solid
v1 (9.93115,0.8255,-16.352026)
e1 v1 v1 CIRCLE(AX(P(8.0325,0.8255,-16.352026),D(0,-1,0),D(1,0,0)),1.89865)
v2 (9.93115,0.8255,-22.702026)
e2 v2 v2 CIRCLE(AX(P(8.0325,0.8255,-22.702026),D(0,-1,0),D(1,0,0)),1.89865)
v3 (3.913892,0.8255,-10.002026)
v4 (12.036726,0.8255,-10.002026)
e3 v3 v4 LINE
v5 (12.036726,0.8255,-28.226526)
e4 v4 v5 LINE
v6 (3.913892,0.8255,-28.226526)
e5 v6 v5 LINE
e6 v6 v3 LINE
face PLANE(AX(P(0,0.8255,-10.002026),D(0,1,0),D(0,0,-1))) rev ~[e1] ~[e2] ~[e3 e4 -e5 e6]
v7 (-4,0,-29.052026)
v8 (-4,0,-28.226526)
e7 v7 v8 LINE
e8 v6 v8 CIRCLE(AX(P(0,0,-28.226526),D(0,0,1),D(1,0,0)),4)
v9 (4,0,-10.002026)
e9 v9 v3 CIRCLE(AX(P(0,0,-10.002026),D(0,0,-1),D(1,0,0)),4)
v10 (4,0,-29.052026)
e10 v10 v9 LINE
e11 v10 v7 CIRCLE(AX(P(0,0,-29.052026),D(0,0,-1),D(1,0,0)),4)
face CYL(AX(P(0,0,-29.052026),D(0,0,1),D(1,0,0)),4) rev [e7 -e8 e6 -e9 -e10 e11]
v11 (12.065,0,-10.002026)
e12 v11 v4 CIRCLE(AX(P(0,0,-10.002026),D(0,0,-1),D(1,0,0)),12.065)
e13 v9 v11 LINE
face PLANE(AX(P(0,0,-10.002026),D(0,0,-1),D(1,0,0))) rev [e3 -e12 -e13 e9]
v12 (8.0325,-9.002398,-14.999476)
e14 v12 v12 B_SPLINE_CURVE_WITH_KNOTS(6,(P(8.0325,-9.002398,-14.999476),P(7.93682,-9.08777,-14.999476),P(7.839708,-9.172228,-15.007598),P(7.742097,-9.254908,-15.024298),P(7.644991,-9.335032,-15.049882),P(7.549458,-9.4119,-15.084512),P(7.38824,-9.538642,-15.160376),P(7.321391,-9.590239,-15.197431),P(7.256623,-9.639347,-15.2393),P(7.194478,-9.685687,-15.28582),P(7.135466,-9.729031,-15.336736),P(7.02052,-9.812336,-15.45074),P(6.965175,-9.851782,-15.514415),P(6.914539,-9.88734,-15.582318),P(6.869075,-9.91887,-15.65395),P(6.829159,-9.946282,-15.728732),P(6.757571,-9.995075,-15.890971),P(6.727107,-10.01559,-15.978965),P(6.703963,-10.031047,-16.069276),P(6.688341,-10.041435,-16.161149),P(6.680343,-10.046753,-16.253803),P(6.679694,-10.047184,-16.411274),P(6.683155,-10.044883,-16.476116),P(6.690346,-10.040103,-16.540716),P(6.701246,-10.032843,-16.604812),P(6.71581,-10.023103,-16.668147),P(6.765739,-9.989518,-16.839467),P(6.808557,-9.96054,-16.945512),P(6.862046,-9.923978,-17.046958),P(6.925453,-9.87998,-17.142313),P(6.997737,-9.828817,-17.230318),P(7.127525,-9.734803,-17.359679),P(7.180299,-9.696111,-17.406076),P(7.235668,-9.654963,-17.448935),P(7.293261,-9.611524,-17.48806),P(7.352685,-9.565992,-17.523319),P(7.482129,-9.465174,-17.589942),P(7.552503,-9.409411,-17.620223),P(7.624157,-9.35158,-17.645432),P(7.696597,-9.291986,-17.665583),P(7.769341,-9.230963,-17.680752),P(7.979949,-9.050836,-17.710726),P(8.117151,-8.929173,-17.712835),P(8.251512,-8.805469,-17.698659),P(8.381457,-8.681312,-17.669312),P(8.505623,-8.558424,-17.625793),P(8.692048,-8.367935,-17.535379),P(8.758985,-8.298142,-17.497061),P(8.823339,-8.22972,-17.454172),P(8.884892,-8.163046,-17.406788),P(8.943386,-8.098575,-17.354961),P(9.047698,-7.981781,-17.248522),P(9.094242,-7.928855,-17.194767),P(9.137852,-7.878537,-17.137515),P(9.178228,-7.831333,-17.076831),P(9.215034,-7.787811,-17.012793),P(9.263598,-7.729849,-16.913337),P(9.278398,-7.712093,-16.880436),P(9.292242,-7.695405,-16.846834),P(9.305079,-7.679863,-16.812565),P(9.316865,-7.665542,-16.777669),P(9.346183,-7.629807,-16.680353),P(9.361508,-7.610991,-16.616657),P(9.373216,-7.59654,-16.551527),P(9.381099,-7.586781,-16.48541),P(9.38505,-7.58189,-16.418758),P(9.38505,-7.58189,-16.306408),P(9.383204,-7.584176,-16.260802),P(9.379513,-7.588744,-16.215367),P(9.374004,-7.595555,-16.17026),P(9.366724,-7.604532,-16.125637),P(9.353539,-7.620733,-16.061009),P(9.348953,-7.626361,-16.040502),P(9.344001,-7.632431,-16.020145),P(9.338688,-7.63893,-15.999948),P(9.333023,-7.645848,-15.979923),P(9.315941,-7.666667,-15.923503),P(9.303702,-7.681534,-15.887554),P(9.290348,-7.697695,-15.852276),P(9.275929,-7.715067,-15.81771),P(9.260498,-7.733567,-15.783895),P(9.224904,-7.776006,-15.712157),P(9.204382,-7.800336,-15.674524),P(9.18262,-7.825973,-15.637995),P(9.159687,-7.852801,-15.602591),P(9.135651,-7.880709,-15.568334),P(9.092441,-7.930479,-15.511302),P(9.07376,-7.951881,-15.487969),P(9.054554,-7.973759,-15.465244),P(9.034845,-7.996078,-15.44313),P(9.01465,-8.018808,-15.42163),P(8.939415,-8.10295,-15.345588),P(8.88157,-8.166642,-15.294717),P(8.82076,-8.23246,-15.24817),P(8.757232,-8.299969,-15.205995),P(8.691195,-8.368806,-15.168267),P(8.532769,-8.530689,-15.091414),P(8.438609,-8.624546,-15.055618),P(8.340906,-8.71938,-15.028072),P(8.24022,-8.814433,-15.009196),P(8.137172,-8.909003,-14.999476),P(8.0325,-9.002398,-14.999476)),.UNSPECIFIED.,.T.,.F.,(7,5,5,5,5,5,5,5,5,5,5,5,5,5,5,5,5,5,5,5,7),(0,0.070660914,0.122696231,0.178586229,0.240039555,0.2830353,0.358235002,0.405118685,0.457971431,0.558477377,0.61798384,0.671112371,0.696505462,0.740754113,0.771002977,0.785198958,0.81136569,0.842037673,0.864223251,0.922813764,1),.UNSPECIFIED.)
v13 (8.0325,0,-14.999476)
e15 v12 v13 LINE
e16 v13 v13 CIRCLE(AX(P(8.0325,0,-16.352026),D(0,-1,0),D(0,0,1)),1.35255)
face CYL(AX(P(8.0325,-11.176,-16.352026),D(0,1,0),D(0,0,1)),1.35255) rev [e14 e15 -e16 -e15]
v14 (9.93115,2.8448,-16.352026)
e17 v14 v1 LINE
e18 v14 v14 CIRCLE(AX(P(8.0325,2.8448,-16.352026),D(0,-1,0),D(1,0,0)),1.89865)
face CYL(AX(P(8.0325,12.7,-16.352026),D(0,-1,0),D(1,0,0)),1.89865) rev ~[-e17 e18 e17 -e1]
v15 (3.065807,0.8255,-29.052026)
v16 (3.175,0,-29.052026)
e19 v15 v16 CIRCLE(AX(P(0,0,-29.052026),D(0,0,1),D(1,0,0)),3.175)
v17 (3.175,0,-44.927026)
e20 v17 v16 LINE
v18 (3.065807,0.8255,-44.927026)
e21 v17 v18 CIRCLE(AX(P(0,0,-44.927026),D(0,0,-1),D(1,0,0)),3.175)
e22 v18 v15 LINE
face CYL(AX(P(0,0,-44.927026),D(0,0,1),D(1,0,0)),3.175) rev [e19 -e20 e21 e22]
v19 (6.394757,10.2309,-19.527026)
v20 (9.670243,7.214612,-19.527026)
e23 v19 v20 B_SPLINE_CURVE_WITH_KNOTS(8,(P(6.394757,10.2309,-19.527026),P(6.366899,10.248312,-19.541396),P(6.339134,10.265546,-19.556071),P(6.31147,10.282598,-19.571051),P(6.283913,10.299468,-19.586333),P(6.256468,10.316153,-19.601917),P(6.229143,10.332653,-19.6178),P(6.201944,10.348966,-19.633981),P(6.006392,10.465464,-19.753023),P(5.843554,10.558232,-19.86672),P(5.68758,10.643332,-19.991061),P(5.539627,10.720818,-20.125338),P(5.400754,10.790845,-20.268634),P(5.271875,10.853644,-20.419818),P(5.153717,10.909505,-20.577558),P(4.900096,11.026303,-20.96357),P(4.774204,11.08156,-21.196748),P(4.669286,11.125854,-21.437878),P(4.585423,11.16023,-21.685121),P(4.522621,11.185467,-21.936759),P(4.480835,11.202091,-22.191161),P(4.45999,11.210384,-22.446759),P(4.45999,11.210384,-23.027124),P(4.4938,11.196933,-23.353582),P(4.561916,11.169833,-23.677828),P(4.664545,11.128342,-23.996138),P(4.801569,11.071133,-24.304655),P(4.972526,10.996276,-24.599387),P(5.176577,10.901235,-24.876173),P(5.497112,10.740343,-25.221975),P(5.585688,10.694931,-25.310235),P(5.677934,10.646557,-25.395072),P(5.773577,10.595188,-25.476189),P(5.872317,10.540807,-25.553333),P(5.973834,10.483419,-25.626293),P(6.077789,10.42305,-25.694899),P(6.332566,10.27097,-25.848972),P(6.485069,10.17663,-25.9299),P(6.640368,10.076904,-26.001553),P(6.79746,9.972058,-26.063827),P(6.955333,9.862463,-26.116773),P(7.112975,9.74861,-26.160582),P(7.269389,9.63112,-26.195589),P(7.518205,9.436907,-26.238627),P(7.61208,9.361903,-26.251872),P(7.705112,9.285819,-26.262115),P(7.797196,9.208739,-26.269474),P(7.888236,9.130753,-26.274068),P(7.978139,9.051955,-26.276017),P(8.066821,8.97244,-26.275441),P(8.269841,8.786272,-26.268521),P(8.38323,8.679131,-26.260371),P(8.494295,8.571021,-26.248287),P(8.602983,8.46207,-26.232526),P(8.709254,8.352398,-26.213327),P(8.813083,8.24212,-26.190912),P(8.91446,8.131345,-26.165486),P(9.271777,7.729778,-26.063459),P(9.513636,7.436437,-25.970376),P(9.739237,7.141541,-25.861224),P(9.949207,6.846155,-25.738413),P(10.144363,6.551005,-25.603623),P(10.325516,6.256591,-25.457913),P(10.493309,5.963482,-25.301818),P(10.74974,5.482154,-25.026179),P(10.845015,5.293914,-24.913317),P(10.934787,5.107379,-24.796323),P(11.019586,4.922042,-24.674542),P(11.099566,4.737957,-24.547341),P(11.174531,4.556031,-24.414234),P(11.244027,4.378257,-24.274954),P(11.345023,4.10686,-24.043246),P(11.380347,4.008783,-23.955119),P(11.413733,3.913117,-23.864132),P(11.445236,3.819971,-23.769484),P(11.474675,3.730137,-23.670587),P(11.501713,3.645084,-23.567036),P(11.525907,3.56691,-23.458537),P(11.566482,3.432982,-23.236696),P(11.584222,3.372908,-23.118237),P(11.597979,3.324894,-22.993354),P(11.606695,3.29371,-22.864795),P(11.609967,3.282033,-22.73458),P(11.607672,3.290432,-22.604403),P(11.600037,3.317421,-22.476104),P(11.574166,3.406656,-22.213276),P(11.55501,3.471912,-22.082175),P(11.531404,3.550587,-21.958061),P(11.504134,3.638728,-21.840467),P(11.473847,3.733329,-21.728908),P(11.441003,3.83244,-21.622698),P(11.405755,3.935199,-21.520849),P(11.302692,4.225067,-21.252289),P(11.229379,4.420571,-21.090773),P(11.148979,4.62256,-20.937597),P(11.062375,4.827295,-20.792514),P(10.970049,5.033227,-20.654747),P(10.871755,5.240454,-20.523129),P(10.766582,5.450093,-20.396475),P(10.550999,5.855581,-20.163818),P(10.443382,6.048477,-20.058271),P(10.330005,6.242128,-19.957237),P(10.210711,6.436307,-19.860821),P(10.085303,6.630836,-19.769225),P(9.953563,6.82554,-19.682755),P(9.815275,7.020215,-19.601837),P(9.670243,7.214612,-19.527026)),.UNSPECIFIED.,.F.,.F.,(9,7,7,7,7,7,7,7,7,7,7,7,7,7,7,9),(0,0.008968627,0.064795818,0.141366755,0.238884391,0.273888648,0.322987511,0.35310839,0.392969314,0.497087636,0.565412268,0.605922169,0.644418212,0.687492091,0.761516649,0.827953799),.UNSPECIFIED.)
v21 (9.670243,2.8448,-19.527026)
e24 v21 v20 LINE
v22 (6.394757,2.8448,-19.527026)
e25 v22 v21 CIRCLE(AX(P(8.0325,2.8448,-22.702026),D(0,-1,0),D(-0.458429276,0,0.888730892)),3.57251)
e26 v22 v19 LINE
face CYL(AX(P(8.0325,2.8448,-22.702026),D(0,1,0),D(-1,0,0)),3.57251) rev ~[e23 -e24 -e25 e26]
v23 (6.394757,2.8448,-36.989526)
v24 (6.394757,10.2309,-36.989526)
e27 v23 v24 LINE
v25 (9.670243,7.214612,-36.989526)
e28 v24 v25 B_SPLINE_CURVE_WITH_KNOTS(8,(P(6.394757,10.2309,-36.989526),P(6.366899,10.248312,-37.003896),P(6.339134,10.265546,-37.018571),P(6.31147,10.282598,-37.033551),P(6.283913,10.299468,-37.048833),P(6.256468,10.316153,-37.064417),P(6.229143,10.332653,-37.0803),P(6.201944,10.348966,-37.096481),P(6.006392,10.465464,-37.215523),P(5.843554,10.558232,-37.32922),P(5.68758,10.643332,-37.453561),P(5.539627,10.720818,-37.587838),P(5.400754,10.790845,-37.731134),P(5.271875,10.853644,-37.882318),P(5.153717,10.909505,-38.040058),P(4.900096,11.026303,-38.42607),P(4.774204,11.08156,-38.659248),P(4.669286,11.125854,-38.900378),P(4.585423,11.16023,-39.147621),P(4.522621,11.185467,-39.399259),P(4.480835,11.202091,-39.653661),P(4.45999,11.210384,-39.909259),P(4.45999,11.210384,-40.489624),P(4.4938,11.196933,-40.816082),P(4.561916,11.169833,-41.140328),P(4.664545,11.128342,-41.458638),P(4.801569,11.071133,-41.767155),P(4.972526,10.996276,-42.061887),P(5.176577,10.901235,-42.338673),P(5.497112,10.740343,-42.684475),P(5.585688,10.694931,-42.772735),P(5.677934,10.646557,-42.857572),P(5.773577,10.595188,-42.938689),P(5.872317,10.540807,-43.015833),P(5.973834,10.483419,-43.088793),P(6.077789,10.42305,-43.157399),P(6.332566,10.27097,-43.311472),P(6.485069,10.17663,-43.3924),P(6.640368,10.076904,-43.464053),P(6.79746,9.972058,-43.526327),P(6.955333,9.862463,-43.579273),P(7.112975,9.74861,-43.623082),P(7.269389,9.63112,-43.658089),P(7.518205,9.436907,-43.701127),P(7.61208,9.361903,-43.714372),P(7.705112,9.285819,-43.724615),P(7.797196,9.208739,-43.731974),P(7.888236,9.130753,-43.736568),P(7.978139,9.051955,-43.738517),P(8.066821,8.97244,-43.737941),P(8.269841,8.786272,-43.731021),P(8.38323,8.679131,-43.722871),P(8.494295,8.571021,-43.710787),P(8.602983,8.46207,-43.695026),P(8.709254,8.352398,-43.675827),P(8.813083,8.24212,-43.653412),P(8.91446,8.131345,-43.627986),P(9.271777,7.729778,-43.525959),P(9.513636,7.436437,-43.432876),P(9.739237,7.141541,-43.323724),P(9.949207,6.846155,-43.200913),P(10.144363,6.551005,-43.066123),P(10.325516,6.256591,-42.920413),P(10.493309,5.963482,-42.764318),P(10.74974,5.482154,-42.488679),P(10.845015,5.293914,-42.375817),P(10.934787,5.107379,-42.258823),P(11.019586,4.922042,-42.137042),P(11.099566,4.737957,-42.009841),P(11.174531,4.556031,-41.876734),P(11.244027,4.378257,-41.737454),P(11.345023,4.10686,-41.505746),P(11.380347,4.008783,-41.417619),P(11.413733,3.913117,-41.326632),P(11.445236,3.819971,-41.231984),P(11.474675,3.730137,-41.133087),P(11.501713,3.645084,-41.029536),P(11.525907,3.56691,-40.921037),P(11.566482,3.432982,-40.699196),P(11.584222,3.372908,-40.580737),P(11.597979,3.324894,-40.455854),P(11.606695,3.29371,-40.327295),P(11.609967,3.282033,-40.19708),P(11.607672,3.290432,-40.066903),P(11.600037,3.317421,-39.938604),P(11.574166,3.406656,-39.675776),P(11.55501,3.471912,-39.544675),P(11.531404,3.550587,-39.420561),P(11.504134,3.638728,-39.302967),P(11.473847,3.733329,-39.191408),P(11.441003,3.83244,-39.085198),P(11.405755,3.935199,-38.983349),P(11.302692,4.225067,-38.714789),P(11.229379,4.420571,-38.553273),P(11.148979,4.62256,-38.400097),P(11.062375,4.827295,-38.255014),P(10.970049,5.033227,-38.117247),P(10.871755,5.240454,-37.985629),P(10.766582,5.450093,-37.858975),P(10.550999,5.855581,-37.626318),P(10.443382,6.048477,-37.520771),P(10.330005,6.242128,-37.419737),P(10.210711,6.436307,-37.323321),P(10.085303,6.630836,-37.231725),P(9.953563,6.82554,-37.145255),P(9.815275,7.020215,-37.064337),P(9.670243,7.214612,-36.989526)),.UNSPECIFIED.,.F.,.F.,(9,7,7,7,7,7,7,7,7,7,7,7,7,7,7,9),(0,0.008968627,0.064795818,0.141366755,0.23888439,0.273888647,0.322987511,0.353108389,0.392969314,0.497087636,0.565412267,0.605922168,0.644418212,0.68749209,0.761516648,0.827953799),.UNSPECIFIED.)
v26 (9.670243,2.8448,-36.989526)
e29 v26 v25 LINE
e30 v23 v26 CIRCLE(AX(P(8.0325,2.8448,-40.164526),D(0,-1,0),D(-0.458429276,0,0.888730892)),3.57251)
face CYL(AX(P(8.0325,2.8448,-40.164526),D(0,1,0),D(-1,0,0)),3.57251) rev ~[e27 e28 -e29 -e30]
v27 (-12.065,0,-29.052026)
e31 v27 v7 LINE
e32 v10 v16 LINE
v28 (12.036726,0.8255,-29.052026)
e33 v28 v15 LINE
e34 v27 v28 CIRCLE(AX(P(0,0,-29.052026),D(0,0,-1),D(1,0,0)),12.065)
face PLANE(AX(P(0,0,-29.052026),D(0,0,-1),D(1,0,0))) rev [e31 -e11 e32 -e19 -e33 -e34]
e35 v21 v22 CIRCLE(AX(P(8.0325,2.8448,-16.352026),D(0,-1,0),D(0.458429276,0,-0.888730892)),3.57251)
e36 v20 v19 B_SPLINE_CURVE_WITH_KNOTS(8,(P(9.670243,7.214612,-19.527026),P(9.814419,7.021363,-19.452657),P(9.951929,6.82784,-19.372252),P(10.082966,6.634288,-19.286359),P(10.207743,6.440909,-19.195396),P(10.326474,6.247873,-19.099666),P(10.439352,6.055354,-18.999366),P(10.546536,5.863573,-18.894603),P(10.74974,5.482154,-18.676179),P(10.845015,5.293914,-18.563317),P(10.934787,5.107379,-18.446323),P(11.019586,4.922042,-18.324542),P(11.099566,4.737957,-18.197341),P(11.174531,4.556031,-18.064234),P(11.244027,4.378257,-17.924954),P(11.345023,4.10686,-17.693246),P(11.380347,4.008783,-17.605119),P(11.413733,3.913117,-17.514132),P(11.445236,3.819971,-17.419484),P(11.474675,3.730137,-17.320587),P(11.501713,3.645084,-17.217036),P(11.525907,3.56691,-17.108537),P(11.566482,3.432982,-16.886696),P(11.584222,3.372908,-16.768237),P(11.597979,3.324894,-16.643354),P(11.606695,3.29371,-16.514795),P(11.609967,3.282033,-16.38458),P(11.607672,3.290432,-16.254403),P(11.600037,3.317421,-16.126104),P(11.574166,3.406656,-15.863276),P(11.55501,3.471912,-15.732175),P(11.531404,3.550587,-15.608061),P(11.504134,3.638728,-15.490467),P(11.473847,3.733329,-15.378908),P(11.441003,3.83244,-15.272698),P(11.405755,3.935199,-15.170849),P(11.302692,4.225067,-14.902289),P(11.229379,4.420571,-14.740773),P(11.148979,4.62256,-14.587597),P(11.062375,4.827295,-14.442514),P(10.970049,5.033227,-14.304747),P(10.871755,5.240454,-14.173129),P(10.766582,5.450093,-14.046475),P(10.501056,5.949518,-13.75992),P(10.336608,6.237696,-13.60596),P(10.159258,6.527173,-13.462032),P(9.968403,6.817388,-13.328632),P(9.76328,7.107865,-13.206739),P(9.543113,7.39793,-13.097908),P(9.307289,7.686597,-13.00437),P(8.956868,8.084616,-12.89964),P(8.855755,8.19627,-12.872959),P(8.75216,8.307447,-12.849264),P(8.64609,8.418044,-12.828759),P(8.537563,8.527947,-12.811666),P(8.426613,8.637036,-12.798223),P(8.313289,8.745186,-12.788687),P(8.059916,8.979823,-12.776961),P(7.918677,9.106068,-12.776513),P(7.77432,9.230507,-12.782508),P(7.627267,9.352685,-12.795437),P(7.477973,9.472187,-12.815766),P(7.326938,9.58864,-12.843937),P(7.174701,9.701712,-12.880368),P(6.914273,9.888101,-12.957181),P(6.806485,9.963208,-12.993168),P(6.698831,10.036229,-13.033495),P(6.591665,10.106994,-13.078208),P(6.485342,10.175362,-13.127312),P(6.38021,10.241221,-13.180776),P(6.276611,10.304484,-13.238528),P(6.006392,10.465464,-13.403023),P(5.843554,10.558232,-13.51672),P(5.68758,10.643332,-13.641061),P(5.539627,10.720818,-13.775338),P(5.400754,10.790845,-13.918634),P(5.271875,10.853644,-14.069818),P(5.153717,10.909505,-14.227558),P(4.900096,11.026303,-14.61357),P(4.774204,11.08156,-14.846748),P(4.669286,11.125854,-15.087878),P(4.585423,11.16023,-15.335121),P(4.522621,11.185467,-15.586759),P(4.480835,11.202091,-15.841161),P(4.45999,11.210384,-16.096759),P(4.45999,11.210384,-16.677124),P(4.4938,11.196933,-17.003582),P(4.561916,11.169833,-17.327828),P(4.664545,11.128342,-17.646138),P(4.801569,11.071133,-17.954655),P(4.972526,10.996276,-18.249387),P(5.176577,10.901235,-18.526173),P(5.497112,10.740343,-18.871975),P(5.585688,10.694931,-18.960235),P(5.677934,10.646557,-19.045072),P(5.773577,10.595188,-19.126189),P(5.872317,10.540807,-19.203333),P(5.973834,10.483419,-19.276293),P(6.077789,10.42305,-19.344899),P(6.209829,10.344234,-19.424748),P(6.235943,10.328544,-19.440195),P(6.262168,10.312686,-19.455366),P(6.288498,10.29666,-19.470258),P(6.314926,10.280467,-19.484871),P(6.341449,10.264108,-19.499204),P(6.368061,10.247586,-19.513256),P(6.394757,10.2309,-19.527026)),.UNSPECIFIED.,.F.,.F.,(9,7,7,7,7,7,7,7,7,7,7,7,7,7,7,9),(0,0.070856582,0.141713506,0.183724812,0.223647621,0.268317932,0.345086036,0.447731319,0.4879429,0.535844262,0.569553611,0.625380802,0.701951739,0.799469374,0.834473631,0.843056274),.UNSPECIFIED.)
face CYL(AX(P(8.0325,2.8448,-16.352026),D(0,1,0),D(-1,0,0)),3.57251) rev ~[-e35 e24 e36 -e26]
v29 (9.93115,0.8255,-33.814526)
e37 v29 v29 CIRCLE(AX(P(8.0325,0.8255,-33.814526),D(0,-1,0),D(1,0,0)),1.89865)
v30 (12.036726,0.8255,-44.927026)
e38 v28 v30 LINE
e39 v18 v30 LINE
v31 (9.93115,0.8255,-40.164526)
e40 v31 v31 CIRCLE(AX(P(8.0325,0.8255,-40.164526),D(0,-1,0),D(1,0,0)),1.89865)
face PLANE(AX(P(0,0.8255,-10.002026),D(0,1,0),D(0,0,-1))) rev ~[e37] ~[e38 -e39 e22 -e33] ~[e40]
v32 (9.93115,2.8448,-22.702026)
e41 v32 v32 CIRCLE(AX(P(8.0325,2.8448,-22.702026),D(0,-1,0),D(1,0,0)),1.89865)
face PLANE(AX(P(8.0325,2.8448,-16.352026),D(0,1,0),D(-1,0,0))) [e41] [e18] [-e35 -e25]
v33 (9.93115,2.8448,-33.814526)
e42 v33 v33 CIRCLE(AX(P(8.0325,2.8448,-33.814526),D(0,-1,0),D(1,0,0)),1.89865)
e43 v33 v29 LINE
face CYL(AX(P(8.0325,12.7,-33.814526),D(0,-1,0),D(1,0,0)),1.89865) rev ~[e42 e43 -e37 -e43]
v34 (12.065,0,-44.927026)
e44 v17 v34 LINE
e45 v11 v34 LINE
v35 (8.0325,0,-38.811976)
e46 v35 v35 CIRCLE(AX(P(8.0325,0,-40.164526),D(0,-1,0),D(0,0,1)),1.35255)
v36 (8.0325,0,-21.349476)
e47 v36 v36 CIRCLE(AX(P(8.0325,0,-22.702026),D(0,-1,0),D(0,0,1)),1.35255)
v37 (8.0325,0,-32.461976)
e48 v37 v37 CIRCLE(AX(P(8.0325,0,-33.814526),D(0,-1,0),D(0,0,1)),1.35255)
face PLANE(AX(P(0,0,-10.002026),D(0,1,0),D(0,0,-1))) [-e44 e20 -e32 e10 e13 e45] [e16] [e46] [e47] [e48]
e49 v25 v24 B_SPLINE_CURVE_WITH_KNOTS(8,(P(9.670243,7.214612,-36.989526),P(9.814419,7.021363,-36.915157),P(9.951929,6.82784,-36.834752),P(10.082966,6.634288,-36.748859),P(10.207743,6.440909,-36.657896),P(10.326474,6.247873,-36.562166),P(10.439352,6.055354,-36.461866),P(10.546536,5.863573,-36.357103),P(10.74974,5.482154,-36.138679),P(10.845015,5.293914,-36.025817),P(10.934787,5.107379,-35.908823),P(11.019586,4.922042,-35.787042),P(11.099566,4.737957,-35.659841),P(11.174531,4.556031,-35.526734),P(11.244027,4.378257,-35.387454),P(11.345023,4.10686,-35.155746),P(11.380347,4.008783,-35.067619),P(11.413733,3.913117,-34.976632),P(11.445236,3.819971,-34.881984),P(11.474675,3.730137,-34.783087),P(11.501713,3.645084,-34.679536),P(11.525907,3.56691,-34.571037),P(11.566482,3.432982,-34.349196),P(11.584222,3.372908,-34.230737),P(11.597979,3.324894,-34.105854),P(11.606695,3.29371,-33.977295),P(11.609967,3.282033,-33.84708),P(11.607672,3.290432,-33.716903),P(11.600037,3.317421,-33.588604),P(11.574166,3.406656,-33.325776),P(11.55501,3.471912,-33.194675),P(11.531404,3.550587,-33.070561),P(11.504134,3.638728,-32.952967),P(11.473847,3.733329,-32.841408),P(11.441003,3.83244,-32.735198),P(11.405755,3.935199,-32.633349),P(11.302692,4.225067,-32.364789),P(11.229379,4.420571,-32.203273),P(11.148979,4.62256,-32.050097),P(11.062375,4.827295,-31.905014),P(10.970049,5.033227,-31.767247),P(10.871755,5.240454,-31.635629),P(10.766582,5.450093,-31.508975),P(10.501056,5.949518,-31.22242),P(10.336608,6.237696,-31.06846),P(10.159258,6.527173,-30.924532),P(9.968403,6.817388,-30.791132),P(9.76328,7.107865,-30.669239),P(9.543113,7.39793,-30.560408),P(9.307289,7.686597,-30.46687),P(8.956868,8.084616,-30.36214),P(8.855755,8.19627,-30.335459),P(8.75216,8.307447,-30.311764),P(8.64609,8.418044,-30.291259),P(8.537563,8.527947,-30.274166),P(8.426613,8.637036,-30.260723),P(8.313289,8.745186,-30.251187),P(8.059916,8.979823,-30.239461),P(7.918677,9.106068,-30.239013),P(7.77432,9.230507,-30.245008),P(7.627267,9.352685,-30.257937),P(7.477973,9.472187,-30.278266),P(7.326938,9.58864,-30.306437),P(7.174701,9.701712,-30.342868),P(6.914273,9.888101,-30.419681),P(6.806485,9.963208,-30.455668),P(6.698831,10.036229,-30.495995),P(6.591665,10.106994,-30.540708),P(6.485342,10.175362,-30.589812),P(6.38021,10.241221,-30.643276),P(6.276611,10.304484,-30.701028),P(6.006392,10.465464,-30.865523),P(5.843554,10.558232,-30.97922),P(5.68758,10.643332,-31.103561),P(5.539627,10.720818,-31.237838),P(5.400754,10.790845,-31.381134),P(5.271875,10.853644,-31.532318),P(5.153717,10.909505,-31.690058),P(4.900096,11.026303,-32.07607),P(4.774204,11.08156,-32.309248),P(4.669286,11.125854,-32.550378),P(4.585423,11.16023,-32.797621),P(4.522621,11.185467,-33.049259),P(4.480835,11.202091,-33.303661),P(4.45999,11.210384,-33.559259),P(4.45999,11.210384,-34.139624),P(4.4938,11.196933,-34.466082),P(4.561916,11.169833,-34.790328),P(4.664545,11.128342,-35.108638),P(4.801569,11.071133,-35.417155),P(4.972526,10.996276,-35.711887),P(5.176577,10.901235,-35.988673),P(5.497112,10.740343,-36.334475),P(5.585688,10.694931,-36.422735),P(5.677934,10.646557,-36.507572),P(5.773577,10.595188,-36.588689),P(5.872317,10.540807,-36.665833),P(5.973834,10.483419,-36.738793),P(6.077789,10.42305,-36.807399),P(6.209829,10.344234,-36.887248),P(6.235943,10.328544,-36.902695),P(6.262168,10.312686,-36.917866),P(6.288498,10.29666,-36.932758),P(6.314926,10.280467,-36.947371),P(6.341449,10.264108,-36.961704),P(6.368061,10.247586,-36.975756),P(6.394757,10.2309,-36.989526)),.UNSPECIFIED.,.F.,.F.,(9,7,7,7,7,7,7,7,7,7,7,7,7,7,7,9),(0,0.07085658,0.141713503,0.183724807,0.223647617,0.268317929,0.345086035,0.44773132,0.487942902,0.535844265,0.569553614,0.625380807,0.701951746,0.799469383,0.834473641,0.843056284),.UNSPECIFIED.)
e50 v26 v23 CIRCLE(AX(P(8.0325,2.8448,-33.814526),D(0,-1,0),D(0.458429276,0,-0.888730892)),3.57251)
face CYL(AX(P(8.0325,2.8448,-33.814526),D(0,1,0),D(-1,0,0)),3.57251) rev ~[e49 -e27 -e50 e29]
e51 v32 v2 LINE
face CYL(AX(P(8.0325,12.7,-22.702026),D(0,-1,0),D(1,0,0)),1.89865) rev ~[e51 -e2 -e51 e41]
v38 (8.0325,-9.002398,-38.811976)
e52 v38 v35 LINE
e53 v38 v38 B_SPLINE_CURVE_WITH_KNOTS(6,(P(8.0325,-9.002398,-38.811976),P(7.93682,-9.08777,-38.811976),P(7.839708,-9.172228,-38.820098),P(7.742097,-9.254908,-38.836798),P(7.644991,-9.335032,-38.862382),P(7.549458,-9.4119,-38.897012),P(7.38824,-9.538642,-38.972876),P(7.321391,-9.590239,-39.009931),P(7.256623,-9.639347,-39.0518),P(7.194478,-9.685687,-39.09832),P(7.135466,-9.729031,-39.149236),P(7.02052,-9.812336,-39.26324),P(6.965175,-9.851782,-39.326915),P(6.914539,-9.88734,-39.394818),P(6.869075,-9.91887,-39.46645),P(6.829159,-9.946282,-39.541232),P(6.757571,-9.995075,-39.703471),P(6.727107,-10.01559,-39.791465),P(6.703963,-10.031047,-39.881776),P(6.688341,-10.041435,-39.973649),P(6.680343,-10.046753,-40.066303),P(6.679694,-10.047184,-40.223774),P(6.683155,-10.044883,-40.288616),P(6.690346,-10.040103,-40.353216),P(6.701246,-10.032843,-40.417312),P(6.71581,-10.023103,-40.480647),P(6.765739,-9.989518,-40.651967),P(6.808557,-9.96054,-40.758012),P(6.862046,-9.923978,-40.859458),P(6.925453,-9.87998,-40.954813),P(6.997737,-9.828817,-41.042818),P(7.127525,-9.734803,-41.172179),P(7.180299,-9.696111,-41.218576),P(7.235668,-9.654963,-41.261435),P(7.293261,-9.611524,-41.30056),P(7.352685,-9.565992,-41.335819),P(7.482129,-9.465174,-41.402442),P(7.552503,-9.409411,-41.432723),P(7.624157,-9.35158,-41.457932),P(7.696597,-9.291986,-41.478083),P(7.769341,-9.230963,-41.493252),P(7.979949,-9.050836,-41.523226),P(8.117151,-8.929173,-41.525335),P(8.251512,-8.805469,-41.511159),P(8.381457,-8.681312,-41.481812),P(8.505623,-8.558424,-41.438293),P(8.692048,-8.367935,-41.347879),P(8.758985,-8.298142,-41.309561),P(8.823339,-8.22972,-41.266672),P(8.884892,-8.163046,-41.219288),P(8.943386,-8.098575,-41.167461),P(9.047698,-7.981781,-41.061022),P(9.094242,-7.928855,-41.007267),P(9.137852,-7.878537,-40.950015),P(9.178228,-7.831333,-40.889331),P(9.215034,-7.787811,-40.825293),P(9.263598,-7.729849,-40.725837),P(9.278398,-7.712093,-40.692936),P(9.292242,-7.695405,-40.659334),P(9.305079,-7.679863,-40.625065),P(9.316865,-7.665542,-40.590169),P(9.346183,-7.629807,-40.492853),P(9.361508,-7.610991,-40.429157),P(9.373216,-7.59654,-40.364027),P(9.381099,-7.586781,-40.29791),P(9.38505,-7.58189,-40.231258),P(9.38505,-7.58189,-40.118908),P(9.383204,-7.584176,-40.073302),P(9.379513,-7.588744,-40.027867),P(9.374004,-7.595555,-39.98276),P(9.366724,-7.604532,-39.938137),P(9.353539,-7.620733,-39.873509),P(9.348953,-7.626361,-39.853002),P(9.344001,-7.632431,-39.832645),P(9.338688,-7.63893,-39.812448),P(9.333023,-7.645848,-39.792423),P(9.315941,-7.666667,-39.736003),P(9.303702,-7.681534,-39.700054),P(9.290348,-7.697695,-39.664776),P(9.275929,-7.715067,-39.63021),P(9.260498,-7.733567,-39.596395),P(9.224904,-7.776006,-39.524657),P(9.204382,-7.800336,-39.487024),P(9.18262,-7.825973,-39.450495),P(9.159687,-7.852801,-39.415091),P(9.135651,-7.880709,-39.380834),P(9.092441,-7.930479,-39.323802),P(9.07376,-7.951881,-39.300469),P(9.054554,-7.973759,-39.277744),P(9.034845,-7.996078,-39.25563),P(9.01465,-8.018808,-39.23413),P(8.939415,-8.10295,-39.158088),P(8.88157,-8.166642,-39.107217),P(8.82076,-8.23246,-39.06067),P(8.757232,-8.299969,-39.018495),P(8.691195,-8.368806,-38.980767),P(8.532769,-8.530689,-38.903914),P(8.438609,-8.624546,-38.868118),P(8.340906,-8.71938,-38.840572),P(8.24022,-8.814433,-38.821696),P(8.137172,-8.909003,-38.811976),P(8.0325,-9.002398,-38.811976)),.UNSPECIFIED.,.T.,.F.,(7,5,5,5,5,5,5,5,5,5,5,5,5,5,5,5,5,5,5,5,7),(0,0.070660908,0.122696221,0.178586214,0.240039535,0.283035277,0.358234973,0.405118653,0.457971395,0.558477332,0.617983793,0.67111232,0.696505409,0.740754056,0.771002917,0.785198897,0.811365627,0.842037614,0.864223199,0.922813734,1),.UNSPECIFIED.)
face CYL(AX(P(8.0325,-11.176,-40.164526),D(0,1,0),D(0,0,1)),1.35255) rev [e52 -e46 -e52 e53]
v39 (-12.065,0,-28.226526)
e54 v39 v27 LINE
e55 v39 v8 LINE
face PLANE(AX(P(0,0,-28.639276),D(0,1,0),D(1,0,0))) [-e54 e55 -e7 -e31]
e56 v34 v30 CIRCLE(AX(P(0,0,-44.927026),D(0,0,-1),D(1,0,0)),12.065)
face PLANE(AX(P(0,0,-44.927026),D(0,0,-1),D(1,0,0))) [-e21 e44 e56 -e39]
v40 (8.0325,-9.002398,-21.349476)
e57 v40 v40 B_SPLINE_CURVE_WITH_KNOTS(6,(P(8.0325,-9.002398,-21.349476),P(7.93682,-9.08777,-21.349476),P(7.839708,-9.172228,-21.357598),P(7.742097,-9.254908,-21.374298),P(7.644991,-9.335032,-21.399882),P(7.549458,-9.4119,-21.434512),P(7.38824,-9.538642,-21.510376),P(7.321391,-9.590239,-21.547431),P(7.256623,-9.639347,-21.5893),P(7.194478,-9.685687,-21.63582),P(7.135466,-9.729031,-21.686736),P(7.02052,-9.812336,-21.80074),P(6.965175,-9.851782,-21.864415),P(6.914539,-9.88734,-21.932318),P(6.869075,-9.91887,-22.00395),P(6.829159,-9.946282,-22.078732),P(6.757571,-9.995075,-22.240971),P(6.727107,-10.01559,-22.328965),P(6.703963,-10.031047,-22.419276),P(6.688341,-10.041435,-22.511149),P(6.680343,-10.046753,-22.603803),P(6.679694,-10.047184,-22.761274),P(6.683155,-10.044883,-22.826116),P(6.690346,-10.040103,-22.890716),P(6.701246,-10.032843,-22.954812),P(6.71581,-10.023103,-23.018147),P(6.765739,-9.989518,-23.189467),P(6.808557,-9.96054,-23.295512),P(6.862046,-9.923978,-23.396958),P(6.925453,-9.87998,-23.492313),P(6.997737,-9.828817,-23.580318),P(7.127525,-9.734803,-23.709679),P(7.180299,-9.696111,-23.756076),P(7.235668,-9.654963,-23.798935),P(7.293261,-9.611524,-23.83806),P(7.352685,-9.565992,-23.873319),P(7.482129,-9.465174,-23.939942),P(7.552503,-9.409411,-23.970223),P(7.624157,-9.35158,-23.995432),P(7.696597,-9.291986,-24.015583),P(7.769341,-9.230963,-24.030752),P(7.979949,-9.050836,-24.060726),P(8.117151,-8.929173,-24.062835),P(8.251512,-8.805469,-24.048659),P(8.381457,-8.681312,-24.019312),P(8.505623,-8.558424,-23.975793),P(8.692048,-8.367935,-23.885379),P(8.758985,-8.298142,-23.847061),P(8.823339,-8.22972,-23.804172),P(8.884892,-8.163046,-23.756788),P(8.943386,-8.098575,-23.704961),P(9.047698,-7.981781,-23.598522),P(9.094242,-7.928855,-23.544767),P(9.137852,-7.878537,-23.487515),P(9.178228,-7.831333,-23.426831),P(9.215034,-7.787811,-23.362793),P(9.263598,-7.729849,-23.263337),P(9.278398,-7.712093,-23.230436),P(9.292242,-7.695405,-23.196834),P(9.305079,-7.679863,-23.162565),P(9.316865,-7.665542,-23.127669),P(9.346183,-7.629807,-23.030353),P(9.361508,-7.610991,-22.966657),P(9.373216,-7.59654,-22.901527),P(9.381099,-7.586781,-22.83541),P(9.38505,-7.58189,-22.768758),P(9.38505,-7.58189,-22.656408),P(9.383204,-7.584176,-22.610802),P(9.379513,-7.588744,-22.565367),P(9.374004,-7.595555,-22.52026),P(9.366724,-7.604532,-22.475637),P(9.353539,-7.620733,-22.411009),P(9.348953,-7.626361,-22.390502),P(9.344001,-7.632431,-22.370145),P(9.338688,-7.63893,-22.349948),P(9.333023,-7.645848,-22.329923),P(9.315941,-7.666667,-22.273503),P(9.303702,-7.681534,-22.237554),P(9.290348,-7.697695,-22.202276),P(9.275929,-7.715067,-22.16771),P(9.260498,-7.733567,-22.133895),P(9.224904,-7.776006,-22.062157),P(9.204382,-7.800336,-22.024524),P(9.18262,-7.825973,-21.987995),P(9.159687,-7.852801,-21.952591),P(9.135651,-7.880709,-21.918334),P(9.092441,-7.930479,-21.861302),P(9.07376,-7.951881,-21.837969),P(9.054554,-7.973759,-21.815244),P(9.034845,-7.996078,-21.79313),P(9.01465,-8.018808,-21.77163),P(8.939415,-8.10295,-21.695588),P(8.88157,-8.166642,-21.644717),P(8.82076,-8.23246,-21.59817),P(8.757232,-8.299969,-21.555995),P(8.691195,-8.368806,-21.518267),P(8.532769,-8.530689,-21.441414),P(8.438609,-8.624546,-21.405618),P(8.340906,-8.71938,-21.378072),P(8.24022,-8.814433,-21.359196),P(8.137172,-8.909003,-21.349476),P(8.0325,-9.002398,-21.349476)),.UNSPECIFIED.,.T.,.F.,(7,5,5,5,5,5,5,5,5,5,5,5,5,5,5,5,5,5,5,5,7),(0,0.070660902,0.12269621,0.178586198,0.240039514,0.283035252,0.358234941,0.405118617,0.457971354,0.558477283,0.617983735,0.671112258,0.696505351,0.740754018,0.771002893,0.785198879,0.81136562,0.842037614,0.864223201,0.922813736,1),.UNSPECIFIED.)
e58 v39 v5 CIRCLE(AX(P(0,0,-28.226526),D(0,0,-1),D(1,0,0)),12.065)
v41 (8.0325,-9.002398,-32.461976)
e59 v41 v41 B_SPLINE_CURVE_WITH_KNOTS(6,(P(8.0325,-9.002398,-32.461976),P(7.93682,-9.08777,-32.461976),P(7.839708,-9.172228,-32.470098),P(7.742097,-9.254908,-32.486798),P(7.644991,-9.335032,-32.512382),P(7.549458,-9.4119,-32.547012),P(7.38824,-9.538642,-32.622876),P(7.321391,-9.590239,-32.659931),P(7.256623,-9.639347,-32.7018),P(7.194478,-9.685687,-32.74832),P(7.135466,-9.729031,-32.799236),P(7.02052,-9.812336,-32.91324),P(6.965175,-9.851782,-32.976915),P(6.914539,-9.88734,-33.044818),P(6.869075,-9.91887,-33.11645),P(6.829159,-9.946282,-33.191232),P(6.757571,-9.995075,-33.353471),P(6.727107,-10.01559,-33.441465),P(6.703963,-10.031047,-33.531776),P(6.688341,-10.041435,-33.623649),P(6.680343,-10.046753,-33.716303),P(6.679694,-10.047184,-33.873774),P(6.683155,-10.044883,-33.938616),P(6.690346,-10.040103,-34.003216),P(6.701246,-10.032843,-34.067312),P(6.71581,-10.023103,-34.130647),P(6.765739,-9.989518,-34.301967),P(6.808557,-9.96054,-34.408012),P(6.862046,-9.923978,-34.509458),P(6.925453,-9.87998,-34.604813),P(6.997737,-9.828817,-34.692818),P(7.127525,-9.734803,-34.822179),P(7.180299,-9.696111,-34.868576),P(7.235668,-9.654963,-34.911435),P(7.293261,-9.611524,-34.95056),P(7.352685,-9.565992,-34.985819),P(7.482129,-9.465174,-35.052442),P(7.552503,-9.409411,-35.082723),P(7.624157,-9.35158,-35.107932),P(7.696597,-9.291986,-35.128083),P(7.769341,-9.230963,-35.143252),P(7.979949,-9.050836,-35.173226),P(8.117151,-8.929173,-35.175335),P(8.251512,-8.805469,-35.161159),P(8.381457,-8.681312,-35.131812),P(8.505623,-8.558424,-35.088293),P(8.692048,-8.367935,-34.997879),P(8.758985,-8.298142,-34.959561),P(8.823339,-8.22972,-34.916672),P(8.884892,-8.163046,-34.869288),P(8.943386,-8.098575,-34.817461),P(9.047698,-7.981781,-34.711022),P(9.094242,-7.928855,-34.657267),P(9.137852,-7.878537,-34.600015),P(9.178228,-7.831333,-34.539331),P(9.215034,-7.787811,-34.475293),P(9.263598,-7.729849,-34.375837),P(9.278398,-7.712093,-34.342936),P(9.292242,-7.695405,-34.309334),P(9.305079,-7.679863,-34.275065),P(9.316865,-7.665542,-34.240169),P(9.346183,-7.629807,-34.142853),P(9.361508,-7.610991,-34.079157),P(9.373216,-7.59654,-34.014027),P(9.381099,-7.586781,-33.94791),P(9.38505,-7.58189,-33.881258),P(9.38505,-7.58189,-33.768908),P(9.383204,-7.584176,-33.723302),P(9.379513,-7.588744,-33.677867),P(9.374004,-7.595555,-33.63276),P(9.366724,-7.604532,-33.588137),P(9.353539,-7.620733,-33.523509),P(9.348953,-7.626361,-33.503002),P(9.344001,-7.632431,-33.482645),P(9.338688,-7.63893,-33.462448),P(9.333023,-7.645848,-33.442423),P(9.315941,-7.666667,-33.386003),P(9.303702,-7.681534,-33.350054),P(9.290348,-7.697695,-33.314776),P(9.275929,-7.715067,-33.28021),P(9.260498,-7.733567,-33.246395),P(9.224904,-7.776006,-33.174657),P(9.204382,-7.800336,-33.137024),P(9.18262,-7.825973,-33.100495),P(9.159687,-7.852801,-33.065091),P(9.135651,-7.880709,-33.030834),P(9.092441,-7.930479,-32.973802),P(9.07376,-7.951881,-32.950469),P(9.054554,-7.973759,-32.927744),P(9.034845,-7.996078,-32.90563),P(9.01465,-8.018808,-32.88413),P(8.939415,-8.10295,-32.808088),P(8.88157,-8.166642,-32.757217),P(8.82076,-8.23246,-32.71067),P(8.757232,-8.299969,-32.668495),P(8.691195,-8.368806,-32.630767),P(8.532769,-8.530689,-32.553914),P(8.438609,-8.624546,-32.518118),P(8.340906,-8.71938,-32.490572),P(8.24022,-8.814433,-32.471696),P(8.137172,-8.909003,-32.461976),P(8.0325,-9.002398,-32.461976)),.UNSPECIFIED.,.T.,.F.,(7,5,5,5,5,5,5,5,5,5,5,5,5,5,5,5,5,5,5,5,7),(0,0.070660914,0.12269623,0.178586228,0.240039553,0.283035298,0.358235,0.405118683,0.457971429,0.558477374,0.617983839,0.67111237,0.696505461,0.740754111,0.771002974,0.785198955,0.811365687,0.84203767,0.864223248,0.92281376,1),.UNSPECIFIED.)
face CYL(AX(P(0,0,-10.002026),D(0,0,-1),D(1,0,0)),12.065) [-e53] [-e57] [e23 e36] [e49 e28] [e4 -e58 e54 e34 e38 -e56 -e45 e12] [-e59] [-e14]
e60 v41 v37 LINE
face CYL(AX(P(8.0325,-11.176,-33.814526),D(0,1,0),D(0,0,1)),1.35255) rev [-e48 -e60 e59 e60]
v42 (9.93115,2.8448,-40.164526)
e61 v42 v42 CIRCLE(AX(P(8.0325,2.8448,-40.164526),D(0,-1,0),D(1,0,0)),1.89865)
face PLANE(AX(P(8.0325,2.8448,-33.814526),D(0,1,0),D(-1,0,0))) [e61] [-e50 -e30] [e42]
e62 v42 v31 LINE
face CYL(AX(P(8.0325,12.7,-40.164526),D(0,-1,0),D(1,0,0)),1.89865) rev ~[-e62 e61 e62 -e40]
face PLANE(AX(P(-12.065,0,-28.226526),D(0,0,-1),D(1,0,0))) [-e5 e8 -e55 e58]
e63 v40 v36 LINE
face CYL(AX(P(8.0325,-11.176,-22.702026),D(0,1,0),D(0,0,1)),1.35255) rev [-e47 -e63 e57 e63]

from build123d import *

# Parameters (mm, degrees)
SKETCH4_W                                      = 24.13
SKETCH4_H                                      = 0.8255
CUT_EXTRUDE1_DEPTH                             = 49.057945385
SKETCH5_W                                      = 34.925
SKETCH5_H                                      = 0.8255
CUT_EXTRUDE2_DEPTH                             = 49.057945385
F_6_32_TAPPED_HOLE1_AT_2_COUNT                 = 2
F_6_32_TAPPED_HOLE1_AT_2_PITCH                 = 6.35
F_6_32_TAPPED_HOLE1_AT_3_COUNT                 = 2
F_6_32_TAPPED_HOLE1_AT_3_PITCH                 = 17.4625
F_6_32_TAPPED_HOLE1_AT_4_COUNT                 = 2
F_6_32_TAPPED_HOLE1_AT_4_PITCH                 = 23.8125
CBORE_FOR_6_SOCKET_HEAD_CAP_SCREW1_D           = 3.7973
CBORE_FOR_6_SOCKET_HEAD_CAP_SCREW1_DEPTH       = 11.8745
CBORE_FOR_6_SOCKET_HEAD_CAP_SCREW1_CBORE_D     = 7.14502
CBORE_FOR_6_SOCKET_HEAD_CAP_SCREW1_CBORE_DEPTH = 9.8552


with BuildPart() as part:
    # Sketch1 → Revolve1 (revolve)
    with BuildSketch(Plane(origin=(0, 0, 0), x_dir=(1, 0, 0), z_dir=(0, 1, 0))):
        Polygon((3.175, 44.927025994), (3.175, 29.052025994), (4, 29.052025994), (4, 10.002025994), (12.065, 10.002025994), (12.065, 44.927025994), align=None)
    revolve(axis=Axis((0, 0, 0), (0, 0, -1)))

    # Sketch4 → Cut-Extrude1 (cut, through all)
    with BuildSketch(Plane(origin=(0, 0, 0), x_dir=(1, 0, 0), z_dir=(0, 1, 0))):
        with Locations((0, 28.639275994)):
            Rectangle(SKETCH4_W, SKETCH4_H)
    extrude(amount=CUT_EXTRUDE1_DEPTH, mode=Mode.SUBTRACT)

    # Sketch5 → Cut-Extrude2 (cut, through all)
    with BuildSketch(Plane(origin=(0, 0, 0), x_dir=(0, 0, -1), z_dir=(1, 0, 0))):
        with Locations((27.464525994, 0.41275)):
            Rectangle(SKETCH5_W, SKETCH5_H)
    extrude(amount=CUT_EXTRUDE2_DEPTH, mode=Mode.SUBTRACT)

    # Sketch6 → #6-32 Tapped Hole1 (revolve, cut)
    with BuildSketch(Plane(origin=(8.0325, 0, -16.352025994), x_dir=(0, 0, 1), z_dir=(1, 0, 0))):
        Polygon((0, 0), (0, 11.98869403), (1.35255, 11.176), (1.35255, 0), align=None)
    f_6_32_tapped_hole1 = revolve(axis=Axis((8.0325, 6.35, -16.352025994), (0, -1, 0)), mode=Mode.SUBTRACT)

    # #6-32 Tapped Hole1 at 2: #6-32 Tapped Hole1 ×2
    with Locations(*[(0, 0, -i * F_6_32_TAPPED_HOLE1_AT_2_PITCH) for i in range(1, F_6_32_TAPPED_HOLE1_AT_2_COUNT)]):
        add(f_6_32_tapped_hole1, mode=Mode.SUBTRACT)

    # #6-32 Tapped Hole1 at 3: #6-32 Tapped Hole1 ×2
    with Locations(*[(0, 0, -i * F_6_32_TAPPED_HOLE1_AT_3_PITCH) for i in range(1, F_6_32_TAPPED_HOLE1_AT_3_COUNT)]):
        add(f_6_32_tapped_hole1, mode=Mode.SUBTRACT)

    # #6-32 Tapped Hole1 at 4: #6-32 Tapped Hole1 ×2
    with Locations(*[(0, 0, -i * F_6_32_TAPPED_HOLE1_AT_4_PITCH) for i in range(1, F_6_32_TAPPED_HOLE1_AT_4_COUNT)]):
        add(f_6_32_tapped_hole1, mode=Mode.SUBTRACT)

    # CBORE for #6 Socket Head Cap Screw1
    with Locations(Plane(origin=(0, 12.7, 0), x_dir=(-1, 0, 0), z_dir=(0, 1, 0))):
        with Locations((-8.0325, -16.352025994), (-8.0325, -22.702025994), (-8.0325, -33.814525994), (-8.0325, -40.164525994)):
            CounterBoreHole(CBORE_FOR_6_SOCKET_HEAD_CAP_SCREW1_D / 2, CBORE_FOR_6_SOCKET_HEAD_CAP_SCREW1_CBORE_D / 2, CBORE_FOR_6_SOCKET_HEAD_CAP_SCREW1_CBORE_DEPTH, depth=CBORE_FOR_6_SOCKET_HEAD_CAP_SCREW1_DEPTH)


solid = part.part
